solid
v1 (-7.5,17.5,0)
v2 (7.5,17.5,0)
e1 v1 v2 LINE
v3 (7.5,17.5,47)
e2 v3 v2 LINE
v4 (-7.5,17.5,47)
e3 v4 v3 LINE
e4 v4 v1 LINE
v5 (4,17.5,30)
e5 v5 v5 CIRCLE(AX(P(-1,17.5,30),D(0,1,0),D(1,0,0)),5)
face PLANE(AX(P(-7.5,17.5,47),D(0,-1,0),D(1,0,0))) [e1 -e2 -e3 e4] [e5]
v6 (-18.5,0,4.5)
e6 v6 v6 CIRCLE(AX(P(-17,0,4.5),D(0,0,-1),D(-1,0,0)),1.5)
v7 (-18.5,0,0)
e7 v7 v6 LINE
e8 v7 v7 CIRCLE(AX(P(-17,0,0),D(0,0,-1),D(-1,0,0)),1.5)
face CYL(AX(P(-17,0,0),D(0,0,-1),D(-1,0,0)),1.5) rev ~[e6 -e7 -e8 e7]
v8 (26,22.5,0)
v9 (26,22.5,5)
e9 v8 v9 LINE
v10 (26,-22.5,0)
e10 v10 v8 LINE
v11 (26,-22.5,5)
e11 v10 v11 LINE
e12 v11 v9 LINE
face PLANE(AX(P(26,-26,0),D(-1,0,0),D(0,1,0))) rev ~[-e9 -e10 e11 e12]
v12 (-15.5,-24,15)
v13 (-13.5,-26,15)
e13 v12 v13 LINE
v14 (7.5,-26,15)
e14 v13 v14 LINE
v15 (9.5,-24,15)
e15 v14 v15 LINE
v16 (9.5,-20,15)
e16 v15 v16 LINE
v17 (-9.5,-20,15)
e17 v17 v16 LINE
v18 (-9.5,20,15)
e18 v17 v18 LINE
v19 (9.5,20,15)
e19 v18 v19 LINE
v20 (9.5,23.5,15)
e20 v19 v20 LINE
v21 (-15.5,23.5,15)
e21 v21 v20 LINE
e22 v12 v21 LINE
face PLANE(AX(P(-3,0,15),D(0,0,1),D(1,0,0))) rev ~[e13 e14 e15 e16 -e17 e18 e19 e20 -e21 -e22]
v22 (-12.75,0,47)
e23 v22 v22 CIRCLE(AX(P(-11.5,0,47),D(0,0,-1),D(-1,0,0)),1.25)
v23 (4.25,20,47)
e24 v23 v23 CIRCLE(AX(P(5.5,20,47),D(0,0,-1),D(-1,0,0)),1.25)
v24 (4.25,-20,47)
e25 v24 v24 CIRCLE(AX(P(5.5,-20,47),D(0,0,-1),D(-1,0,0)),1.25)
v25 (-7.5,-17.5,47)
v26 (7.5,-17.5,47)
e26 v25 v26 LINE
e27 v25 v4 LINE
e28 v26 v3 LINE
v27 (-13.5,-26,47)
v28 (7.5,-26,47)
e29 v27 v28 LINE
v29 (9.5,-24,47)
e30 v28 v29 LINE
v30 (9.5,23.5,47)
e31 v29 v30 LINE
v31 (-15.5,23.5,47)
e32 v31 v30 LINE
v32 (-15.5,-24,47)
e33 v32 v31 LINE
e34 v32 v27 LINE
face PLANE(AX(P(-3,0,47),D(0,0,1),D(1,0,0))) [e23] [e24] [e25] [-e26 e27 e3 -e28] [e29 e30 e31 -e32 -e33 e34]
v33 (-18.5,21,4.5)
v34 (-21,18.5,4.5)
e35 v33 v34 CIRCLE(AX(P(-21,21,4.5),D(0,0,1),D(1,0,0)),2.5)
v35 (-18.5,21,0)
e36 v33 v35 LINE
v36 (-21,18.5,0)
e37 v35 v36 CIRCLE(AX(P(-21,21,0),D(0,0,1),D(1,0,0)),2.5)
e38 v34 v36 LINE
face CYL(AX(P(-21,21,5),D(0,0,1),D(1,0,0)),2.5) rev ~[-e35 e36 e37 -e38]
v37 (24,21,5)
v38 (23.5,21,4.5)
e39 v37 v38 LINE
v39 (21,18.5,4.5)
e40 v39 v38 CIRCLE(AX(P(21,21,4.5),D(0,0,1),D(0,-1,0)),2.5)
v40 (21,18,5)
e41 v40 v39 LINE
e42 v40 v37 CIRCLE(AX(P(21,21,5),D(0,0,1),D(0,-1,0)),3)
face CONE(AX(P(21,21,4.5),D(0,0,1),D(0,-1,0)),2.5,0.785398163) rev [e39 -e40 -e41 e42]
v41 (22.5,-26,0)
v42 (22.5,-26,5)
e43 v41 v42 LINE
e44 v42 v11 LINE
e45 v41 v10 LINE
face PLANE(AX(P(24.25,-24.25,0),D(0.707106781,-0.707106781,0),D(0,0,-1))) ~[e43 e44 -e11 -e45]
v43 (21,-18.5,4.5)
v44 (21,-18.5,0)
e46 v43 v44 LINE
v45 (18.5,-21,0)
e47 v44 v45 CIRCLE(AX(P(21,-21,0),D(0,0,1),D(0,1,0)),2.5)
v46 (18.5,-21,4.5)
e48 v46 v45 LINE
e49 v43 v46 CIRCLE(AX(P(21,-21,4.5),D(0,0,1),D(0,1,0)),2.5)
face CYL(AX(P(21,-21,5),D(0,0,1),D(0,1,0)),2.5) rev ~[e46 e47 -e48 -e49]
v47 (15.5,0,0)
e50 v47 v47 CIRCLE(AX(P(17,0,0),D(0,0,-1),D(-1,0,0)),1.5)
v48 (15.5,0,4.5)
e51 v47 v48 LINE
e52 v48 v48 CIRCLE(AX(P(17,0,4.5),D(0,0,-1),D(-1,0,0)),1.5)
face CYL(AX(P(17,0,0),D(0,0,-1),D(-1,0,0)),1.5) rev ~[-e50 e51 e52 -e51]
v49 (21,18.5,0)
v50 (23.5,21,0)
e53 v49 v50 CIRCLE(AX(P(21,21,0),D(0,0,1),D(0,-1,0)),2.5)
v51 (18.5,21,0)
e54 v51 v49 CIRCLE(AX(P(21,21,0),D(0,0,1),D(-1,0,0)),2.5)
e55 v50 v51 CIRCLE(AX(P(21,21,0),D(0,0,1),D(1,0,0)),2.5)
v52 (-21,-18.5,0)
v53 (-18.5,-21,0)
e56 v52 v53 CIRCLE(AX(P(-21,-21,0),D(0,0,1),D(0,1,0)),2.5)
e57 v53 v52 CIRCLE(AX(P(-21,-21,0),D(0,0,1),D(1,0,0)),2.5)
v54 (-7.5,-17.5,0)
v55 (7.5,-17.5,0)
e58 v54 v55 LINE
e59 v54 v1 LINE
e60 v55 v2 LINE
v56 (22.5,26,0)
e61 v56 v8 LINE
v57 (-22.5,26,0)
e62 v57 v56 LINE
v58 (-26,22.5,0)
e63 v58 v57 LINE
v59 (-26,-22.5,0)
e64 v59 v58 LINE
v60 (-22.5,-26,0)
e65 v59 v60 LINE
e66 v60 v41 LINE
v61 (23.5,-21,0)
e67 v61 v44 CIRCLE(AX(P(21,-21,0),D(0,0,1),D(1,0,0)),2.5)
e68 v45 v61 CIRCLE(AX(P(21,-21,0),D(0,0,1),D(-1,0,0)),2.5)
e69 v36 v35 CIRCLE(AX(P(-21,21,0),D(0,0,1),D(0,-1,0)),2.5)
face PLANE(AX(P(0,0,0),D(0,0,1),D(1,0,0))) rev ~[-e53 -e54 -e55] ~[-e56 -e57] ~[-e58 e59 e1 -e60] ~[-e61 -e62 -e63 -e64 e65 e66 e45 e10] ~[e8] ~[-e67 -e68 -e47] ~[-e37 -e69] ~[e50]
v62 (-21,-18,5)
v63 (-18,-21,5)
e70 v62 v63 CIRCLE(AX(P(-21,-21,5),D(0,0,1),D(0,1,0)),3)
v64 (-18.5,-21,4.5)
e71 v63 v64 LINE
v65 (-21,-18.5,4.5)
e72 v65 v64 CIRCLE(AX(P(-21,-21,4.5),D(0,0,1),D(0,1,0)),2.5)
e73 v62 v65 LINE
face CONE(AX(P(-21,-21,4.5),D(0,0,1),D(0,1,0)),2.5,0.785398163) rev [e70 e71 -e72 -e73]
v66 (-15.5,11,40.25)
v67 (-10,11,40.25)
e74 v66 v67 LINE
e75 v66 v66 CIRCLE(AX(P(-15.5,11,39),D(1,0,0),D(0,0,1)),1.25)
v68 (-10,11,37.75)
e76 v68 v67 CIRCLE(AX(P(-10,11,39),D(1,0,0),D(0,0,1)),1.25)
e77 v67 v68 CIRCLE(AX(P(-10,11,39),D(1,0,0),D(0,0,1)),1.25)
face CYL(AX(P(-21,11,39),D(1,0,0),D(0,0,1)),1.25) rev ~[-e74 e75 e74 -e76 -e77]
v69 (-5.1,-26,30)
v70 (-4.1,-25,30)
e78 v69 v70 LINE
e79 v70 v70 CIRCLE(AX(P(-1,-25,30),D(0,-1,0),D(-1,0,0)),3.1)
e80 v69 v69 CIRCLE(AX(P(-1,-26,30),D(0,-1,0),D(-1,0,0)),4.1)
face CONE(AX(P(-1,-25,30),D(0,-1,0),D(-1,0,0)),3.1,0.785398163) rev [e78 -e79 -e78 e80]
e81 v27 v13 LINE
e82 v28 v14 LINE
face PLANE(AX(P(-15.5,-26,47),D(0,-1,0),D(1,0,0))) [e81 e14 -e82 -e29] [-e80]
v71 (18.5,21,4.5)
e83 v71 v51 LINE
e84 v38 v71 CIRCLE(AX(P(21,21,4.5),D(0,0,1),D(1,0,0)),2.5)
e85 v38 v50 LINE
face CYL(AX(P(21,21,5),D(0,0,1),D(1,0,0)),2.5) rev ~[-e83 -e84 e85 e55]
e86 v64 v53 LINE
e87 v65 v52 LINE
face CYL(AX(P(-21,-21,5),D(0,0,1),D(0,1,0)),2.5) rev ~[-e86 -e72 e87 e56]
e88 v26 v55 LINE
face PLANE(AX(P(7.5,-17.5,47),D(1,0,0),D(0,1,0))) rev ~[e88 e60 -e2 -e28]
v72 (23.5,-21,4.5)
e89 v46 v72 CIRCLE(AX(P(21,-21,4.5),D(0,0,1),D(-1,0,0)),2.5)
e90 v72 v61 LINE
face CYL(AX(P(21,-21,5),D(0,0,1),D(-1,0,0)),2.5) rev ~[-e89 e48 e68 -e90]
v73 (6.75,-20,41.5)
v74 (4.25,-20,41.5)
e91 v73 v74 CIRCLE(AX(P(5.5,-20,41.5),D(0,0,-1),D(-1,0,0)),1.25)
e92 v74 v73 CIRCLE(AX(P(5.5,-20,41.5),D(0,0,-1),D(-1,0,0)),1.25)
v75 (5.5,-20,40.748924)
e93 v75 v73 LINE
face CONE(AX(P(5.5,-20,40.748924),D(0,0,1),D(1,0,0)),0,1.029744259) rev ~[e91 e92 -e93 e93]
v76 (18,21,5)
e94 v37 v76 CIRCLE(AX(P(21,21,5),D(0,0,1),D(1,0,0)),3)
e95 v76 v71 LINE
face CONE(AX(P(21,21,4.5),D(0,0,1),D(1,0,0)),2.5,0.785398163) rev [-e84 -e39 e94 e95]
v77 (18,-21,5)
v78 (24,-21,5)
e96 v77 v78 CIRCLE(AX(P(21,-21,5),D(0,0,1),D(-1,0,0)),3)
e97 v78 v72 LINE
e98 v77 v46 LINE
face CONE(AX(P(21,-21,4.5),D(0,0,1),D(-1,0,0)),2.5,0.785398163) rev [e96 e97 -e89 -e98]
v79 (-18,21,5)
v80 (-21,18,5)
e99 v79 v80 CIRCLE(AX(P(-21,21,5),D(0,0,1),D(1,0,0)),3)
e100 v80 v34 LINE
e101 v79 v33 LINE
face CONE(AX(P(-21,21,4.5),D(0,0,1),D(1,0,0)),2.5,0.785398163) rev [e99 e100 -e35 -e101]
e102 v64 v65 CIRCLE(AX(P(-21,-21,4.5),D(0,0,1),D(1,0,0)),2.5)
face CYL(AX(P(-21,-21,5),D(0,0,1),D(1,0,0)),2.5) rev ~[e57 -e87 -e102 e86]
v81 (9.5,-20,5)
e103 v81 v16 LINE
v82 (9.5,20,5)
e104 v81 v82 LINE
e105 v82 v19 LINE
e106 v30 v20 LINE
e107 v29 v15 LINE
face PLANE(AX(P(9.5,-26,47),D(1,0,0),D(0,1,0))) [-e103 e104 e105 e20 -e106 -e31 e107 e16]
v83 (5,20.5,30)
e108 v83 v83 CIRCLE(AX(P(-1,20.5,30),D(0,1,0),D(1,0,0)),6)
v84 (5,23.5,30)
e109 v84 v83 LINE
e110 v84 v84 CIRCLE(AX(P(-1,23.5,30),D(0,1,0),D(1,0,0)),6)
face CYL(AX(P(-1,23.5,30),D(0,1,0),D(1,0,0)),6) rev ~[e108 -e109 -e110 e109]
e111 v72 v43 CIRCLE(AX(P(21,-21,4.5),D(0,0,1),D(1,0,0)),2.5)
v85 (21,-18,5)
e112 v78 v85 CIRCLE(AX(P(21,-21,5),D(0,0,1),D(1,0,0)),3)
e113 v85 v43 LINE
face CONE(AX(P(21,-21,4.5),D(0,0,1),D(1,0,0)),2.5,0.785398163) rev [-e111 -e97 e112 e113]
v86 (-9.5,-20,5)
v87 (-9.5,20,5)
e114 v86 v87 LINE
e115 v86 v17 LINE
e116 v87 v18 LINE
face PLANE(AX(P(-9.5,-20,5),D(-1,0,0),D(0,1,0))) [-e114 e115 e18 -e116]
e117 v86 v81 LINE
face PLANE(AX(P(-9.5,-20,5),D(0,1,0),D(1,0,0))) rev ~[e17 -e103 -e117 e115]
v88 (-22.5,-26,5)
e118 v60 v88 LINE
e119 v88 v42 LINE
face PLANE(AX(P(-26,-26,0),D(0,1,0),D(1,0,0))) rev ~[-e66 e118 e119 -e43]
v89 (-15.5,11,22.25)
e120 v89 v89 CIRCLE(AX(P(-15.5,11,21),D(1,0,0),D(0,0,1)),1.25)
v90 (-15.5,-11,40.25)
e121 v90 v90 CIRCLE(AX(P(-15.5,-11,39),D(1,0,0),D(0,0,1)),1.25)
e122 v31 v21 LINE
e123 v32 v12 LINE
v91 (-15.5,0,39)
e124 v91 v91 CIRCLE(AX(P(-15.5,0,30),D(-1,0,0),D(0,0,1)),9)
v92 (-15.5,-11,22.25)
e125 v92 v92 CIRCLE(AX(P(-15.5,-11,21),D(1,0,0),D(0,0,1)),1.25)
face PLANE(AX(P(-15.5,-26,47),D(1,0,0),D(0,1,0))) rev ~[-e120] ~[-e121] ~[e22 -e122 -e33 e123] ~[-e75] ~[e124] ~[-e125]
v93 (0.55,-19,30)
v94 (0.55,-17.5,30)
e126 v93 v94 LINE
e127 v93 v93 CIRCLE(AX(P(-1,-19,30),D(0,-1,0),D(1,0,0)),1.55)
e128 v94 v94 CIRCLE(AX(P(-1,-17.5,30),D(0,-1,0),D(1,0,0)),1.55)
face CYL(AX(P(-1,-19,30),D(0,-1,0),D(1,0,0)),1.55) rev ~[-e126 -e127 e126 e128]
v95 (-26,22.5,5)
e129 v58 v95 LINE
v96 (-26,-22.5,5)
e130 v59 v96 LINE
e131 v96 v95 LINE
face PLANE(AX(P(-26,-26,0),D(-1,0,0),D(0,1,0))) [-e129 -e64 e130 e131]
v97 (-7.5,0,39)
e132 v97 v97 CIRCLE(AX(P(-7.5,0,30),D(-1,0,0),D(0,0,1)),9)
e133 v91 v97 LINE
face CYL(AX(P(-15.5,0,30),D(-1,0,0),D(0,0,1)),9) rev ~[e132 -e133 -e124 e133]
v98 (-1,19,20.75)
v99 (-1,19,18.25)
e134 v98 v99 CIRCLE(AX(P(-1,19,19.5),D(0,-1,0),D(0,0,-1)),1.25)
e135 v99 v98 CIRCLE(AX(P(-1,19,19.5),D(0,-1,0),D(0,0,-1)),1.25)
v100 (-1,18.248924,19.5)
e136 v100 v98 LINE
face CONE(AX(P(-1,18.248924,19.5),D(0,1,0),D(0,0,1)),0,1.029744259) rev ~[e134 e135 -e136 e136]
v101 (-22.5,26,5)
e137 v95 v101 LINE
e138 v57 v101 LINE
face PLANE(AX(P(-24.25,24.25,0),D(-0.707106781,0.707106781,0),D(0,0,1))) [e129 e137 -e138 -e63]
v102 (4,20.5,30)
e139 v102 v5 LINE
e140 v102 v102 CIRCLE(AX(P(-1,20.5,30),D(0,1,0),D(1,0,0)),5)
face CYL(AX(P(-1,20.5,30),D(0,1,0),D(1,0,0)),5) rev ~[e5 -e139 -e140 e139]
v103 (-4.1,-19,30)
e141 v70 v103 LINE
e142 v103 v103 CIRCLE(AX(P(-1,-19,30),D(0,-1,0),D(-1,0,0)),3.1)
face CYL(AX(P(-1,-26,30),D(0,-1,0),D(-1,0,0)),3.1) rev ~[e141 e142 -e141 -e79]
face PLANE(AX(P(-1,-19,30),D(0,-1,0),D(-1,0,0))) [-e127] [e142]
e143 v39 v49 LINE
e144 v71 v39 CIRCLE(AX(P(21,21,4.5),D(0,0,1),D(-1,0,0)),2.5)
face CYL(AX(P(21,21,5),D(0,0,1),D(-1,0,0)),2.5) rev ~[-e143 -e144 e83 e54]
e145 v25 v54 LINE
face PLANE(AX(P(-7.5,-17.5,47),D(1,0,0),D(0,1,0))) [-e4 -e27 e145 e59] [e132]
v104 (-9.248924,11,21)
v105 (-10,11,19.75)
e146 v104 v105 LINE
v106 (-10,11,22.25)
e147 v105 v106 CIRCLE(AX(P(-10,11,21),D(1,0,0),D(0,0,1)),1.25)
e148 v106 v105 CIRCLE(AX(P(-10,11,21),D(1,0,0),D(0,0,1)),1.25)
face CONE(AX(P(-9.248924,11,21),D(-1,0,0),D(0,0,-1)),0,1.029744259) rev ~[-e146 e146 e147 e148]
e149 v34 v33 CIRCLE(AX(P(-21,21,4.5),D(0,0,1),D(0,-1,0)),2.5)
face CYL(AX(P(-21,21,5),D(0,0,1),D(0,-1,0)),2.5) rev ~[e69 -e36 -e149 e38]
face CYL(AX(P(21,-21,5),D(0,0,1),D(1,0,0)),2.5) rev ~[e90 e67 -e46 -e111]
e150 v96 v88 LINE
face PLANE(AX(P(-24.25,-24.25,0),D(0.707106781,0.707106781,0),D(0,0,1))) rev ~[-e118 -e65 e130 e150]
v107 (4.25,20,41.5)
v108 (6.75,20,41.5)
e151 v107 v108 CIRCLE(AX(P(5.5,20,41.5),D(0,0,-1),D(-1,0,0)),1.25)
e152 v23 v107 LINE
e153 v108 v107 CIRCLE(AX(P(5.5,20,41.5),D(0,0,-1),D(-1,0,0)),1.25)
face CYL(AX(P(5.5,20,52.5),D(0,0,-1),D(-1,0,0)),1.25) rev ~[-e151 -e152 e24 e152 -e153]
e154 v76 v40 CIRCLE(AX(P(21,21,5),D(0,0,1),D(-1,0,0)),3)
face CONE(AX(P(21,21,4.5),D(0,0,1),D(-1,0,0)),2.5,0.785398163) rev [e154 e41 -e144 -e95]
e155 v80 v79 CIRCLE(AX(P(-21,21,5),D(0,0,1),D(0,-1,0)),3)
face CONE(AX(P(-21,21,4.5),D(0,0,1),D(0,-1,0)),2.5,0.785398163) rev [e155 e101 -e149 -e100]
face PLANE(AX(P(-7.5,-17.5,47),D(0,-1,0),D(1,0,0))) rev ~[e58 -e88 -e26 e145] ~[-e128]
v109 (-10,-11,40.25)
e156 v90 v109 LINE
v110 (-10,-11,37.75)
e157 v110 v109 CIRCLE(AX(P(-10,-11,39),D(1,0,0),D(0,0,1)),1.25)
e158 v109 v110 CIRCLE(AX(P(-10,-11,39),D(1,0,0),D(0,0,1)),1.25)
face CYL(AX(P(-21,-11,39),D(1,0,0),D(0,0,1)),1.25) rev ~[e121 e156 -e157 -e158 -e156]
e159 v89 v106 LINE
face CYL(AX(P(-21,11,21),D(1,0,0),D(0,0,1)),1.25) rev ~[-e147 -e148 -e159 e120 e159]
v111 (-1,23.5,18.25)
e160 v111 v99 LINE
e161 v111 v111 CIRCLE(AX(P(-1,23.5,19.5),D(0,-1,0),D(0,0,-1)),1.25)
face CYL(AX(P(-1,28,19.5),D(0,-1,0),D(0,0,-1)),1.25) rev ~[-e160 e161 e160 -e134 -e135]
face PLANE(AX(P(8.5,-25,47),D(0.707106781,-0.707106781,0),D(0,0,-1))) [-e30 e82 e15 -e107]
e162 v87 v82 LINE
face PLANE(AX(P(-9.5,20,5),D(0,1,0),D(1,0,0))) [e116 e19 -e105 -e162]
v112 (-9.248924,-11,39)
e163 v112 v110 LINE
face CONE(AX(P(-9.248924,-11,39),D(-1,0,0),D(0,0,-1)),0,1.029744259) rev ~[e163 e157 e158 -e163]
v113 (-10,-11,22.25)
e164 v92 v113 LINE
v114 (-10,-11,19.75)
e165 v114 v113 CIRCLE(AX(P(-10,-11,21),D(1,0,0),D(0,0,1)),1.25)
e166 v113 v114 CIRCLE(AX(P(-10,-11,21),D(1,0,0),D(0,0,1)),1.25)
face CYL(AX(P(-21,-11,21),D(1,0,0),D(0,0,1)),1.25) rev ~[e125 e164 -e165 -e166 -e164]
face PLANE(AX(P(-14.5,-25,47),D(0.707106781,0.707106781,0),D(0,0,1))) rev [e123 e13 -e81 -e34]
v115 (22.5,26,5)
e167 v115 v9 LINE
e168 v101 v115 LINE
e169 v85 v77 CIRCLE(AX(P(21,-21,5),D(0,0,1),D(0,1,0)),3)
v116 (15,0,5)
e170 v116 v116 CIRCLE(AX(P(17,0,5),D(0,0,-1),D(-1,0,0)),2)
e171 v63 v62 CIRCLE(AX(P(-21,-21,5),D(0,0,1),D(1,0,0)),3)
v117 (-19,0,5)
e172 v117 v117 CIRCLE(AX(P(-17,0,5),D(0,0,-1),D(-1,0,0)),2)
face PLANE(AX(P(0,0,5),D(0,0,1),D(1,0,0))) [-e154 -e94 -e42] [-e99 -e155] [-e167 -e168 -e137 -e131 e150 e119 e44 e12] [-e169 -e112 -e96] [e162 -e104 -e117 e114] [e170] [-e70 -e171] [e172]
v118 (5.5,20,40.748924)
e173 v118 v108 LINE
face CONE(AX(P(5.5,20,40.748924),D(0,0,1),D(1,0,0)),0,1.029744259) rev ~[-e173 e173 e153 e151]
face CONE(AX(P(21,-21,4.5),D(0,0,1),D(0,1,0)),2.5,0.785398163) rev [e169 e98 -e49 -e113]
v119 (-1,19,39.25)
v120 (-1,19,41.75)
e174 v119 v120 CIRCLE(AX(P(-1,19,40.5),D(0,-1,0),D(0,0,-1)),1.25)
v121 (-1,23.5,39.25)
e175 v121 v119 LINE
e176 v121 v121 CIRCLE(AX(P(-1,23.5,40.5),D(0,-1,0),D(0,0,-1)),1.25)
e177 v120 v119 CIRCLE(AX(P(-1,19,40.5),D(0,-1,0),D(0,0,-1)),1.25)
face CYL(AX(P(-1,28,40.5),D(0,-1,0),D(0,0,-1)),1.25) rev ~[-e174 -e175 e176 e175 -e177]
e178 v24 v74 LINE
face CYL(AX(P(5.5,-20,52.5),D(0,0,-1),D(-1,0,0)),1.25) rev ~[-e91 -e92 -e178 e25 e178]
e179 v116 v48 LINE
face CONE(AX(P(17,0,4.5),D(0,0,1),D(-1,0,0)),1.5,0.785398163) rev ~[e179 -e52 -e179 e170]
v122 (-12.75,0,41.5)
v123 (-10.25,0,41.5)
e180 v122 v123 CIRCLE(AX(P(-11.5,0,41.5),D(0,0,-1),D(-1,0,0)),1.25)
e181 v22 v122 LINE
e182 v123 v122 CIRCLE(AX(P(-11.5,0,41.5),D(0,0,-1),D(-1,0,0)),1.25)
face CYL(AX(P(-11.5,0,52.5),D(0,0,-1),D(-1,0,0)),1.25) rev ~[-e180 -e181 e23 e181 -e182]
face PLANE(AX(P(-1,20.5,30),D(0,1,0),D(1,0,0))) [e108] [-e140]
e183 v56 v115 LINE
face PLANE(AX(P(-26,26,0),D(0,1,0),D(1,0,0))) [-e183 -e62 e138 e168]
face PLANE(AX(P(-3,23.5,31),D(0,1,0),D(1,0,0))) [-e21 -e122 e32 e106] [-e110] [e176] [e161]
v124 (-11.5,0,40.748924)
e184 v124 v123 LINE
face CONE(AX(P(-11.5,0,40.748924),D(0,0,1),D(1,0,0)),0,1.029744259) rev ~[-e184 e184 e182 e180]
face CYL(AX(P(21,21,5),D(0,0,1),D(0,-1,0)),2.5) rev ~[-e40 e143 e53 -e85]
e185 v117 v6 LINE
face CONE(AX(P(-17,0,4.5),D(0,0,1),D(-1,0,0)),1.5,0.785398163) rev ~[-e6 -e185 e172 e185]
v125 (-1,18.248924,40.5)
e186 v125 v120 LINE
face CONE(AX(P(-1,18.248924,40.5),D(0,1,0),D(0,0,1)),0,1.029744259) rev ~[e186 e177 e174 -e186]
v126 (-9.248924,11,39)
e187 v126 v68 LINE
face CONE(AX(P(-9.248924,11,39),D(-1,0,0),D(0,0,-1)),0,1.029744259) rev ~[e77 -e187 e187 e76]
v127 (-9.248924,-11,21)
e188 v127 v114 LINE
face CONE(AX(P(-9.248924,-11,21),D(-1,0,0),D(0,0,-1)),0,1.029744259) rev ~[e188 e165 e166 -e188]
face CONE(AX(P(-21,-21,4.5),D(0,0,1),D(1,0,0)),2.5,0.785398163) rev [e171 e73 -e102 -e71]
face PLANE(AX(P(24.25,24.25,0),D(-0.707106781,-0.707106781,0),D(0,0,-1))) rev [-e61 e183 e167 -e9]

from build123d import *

# Parameters (mm, degrees)
SKETCH_1_W          = 52
SKETCH_1_H          = 52
EXTRUDE_1_DEPTH     = 5
CUT_EXTRUDE_1_DEPTH = 6
CHAMFER_1_SIZE      = 3.5
CHAMFER_2_SIZE      = 0.5
SKETCH_3_W          = 19
SKETCH_3_H          = 40
EXTRUDE_2_DEPTH     = 42
SKETCH_4_W          = 25
SKETCH_4_H          = 52
EXTRUDE_3_DEPTH     = 32
SKETCH_6_W          = 15
SKETCH_6_H          = 35
CUT_EXTRUDE_2_DEPTH = 48
CUT_EXTRUDE_3_REACH = 43.5
SKETCH_7_R          = 9
M3X0_51_D           = 2.5
M3X0_51_DEPTH       = 5.5
M3X0_51_TIP         = 0.751075774
CHAMFER_3_SIZE      = 2
M3X0_52_D           = 2.5
M3X0_52_DEPTH       = 5.5
M3X0_52_TIP         = 0.751075774
SKETCH_13_R         = 3.1
CUT_EXTRUDE_4_DEPTH = 7
CUT_EXTRUDE_5_REACH = 47
SKETCH_14_R         = 1.55
CHAMFER_4_SIZE      = 1
SKETCH_15_W         = 25
SKETCH_15_H         = 32
CUT_EXTRUDE_6_DEPTH = 2.5
SKETCH_16_R         = 6
CUT_EXTRUDE_7_DEPTH = 3
CUT_EXTRUDE_8_REACH = 48.5
SKETCH_17_R         = 5
M3X0_53_D           = 2.5
M3X0_53_DEPTH       = 4.5
M3X0_53_TIP         = 0.751075774
CUT_EXTRUDE_9_REACH = 49
SKETCH_20_R         = 1.5
CHAMFER_5_SIZE      = 0.5


with BuildPart() as part:
    # Эскиз1 → Бобышка-Вытянуть1 (new body)
    with BuildSketch(Plane.XY):
        Rectangle(SKETCH_1_W, SKETCH_1_H)
    extrude(amount=EXTRUDE_1_DEPTH)

    # Эскиз2 → Вырез-Вытянуть1 (cut, through all)
    with BuildSketch(Plane.XY.offset(5)):
        with BuildLine():
            ThreePointArc((-18.5, 21), (-22.767766953, 22.767766953), (-21, 18.5))
            Line((-21, 18.5), (-21, 21))
            Line((-21, 21), (-18.5, 21))
        make_face()
        with BuildLine():
            Line((-21, 21), (-21, 18.5))
            ThreePointArc((-21, 18.5), (-19.232233047, 19.232233047), (-18.5, 21))
            Line((-18.5, 21), (-21, 21))
        make_face()
        with BuildLine():
            ThreePointArc((18.5, 21), (19.232233047, 19.232233047), (21, 18.5))
            Line((21, 18.5), (21, 21))
            Line((21, 21), (18.5, 21))
        make_face()
        with BuildLine():
            Line((21, 21), (21, 18.5))
            ThreePointArc((21, 18.5), (22.767766953, 19.232233047), (23.5, 21))
            ThreePointArc((23.5, 21), (21, 23.5), (18.5, 21))
            Line((18.5, 21), (21, 21))
        make_face()
        with BuildLine():
            Line((-21, -18.5), (-21, -21))
            Line((-21, -21), (-18.5, -21))
            ThreePointArc((-18.5, -21), (-19.232233047, -19.232233047), (-21, -18.5))
        make_face()
        with BuildLine():
            Line((-18.5, -21), (-21, -21))
            Line((-21, -21), (-21, -18.5))
            ThreePointArc((-21, -18.5), (-22.767766953, -22.767766953), (-18.5, -21))
        make_face()
        with BuildLine():
            ThreePointArc((21, -18.5), (19.232233047, -19.232233047), (18.5, -21))
            Line((18.5, -21), (21, -21))
            Line((21, -21), (21, -18.5))
        make_face()
        with BuildLine():
            Line((21, -21), (18.5, -21))
            ThreePointArc((18.5, -21), (21, -23.5), (23.5, -21))
            ThreePointArc((23.5, -21), (22.767766953, -19.232233047), (21, -18.5))
            Line((21, -18.5), (21, -21))
        make_face()
    extrude(amount=-CUT_EXTRUDE_1_DEPTH, mode=Mode.SUBTRACT)

    # Фаска1
    chamfer_1_edges = [part.edges().sort_by_distance(p)[0] for p in [
        (26, -26, 2.5),
        (-26, -26, 2.5),
        (-26, 26, 2.5),
        (26, 26, 2.5),
    ]]
    chamfer(chamfer_1_edges, length=CHAMFER_1_SIZE)

    # Фаска2
    chamfer_2_edges = [part.edges().sort_by_distance(p)[0] for p in [
        (23.5, 21, 5),
        (-21, 23.5, 5),
        (-23.5, -21, 5),
        (18.5, -21, 5),
    ]]
    chamfer(chamfer_2_edges, length=CHAMFER_2_SIZE)

    # Эскиз3 → Бобышка-Вытянуть2 (add)
    with BuildSketch(Plane.XY.offset(5)):
        Rectangle(SKETCH_3_W, SKETCH_3_H)
    extrude(amount=EXTRUDE_2_DEPTH)

    # Эскиз4 → Бобышка-Вытянуть3 (add)
    with BuildSketch(Plane.XY.offset(47)):
        with Locations((-3, 0)):
            Rectangle(SKETCH_4_W, SKETCH_4_H)
    extrude(amount=-EXTRUDE_3_DEPTH)

    # Эскиз6 → Вырез-Вытянуть2 (cut, through all)
    with BuildSketch(Plane.XY.offset(47)):
        Rectangle(SKETCH_6_W, SKETCH_6_H)
    extrude(amount=-CUT_EXTRUDE_2_DEPTH, mode=Mode.SUBTRACT)

    # Эскиз7 → Вырез-Вытянуть3 (cut, up to next)
    with BuildSketch(Plane.ZY.offset(15.5), mode=Mode.PRIVATE) as cut_extrude_3_sk1:
        with Locations((30, 0)):
            Circle(SKETCH_7_R)
    cut_extrude_3_tool1 = extrude(cut_extrude_3_sk1.sketch, amount=-CUT_EXTRUDE_3_REACH, mode=Mode.PRIVATE) & part.part
    add(cut_extrude_3_tool1.solids().sort_by_distance((-15.5, 0, 30))[0], mode=Mode.SUBTRACT)

    # Отверстие обработанное метчиком M3x0.51
    with Locations(Plane(origin=(-15.5, 11, 39), x_dir=(0, 0, -1), z_dir=(-1, 0, 0))):
        with Locations((0, 0), (0, 22), (18, 22), (18, 0)):
            Hole(M3X0_51_D / 2, depth=M3X0_51_DEPTH)
            with Locations((0, 0, -(M3X0_51_DEPTH + M3X0_51_TIP / 2))):  # 118° drill point
                Cone(0, M3X0_51_D / 2, M3X0_51_TIP, mode=Mode.SUBTRACT)

    # Фаска3
    chamfer_3_edges = [part.edges().sort_by_distance(p)[0] for p in [
        (9.5, 26, 31),
        (9.5, -26, 31),
        (-15.5, -26, 31),
        (-15.5, 26, 31),
    ]]
    chamfer(chamfer_3_edges, length=CHAMFER_3_SIZE)

    # Отверстие обработанное метчиком M3x0.52
    with Locations(Plane(origin=(5.5, 20, 47), x_dir=(1, 0, 0), z_dir=(0, 0, 1))):
        with Locations((0, 0), (-17, -20), (0, -40)):
            Hole(M3X0_52_D / 2, depth=M3X0_52_DEPTH)
            with Locations((0, 0, -(M3X0_52_DEPTH + M3X0_52_TIP / 2))):  # 118° drill point
                Cone(0, M3X0_52_D / 2, M3X0_52_TIP, mode=Mode.SUBTRACT)

    # Эскиз13 → Вырез-Вытянуть4 (cut)
    with BuildSketch(Plane(origin=(0, -26, 0), x_dir=(-1, 0, 0), z_dir=(0, -1, 0))):
        with Locations((1, -30)):
            Circle(SKETCH_13_R)
    extrude(amount=-CUT_EXTRUDE_4_DEPTH, mode=Mode.SUBTRACT)

    # Эскиз14 → Вырез-Вытянуть5 (cut, up to next)
    with BuildSketch(Plane.XZ.offset(19), mode=Mode.PRIVATE) as cut_extrude_5_sk1:
        with Locations((-1, 30)):
            Circle(SKETCH_14_R)
    cut_extrude_5_tool1 = extrude(cut_extrude_5_sk1.sketch, amount=-CUT_EXTRUDE_5_REACH, mode=Mode.PRIVATE) & part.part
    add(cut_extrude_5_tool1.solids().sort_by_distance((-1, -19, 30))[0], mode=Mode.SUBTRACT)

    # Фаска4
    chamfer_4_edges = [part.edges().sort_by_distance(p)[0] for p in [
        (2.1, -26, 30),
    ]]
    chamfer(chamfer_4_edges, length=CHAMFER_4_SIZE)

    # Эскиз15 → Вырез-Вытянуть6 (cut)
    with BuildSketch(Plane(origin=(0, 26, 0), x_dir=(1, 0, 0), z_dir=(0, 1, 0))):
        with Locations((-3, -31)):
            Rectangle(SKETCH_15_W, SKETCH_15_H)
    extrude(amount=-CUT_EXTRUDE_6_DEPTH, mode=Mode.SUBTRACT)

    # Эскиз16 → Вырез-Вытянуть7 (cut)
    with BuildSketch(Plane(origin=(0, 23.5, 0), x_dir=(1, 0, 0), z_dir=(0, 1, 0))):
        with Locations((-1, -30)):
            Circle(SKETCH_16_R)
    extrude(amount=-CUT_EXTRUDE_7_DEPTH, mode=Mode.SUBTRACT)

    # Эскиз17 → Вырез-Вытянуть8 (cut, up to next)
    with BuildSketch(Plane(origin=(0, 20.5, 0), x_dir=(1, 0, 0), z_dir=(0, 1, 0)), mode=Mode.PRIVATE) as cut_extrude_8_sk1:
        with Locations((-1, -30)):
            Circle(SKETCH_17_R)
    cut_extrude_8_tool1 = extrude(cut_extrude_8_sk1.sketch, amount=-CUT_EXTRUDE_8_REACH, mode=Mode.PRIVATE) & part.part
    add(cut_extrude_8_tool1.solids().sort_by_distance((-1, 20.5, 30))[0], mode=Mode.SUBTRACT)

    # Отверстие обработанное метчиком M3x0.53
    with Locations(Plane(origin=(-1, 23.5, 40.5), x_dir=(0, 0, 1), z_dir=(0, 1, 0))):
        with Locations((0, 0), (-21, 0)):
            Hole(M3X0_53_D / 2, depth=M3X0_53_DEPTH)
            with Locations((0, 0, -(M3X0_53_DEPTH + M3X0_53_TIP / 2))):  # 118° drill point
                Cone(0, M3X0_53_D / 2, M3X0_53_TIP, mode=Mode.SUBTRACT)

    # Эскиз20 → Вырез-Вытянуть9 (cut, up to next)
    with BuildSketch(Plane(origin=(0, 0, 0), x_dir=(-1, 0, 0), z_dir=(0, 0, -1)), mode=Mode.PRIVATE) as cut_extrude_9_sk1:
        with Locations((-17, 0)):
            Circle(SKETCH_20_R)
    cut_extrude_9_tool1 = extrude(cut_extrude_9_sk1.sketch, amount=-CUT_EXTRUDE_9_REACH, mode=Mode.PRIVATE) & part.part
    add(cut_extrude_9_tool1.solids().sort_by_distance((17, 0, 0))[0], mode=Mode.SUBTRACT)
    # Эскиз20 → Вырез-Вытянуть9 (cut, up to next)
    with BuildSketch(Plane(origin=(0, 0, 0), x_dir=(-1, 0, 0), z_dir=(0, 0, -1)), mode=Mode.PRIVATE) as cut_extrude_9_sk2:
        with Locations((17, 0)):
            Circle(SKETCH_20_R)
    cut_extrude_9_tool2 = extrude(cut_extrude_9_sk2.sketch, amount=-CUT_EXTRUDE_9_REACH, mode=Mode.PRIVATE) & part.part
    add(cut_extrude_9_tool2.solids().sort_by_distance((-17, 0, 0))[0], mode=Mode.SUBTRACT)

    # Фаска5
    chamfer_5_edges = [part.edges().sort_by_distance(p)[0] for p in [
        (18.5, 0, 5),
        (-15.5, 0, 5),
    ]]
    chamfer(chamfer_5_edges, length=CHAMFER_5_SIZE)


solid = part.part
